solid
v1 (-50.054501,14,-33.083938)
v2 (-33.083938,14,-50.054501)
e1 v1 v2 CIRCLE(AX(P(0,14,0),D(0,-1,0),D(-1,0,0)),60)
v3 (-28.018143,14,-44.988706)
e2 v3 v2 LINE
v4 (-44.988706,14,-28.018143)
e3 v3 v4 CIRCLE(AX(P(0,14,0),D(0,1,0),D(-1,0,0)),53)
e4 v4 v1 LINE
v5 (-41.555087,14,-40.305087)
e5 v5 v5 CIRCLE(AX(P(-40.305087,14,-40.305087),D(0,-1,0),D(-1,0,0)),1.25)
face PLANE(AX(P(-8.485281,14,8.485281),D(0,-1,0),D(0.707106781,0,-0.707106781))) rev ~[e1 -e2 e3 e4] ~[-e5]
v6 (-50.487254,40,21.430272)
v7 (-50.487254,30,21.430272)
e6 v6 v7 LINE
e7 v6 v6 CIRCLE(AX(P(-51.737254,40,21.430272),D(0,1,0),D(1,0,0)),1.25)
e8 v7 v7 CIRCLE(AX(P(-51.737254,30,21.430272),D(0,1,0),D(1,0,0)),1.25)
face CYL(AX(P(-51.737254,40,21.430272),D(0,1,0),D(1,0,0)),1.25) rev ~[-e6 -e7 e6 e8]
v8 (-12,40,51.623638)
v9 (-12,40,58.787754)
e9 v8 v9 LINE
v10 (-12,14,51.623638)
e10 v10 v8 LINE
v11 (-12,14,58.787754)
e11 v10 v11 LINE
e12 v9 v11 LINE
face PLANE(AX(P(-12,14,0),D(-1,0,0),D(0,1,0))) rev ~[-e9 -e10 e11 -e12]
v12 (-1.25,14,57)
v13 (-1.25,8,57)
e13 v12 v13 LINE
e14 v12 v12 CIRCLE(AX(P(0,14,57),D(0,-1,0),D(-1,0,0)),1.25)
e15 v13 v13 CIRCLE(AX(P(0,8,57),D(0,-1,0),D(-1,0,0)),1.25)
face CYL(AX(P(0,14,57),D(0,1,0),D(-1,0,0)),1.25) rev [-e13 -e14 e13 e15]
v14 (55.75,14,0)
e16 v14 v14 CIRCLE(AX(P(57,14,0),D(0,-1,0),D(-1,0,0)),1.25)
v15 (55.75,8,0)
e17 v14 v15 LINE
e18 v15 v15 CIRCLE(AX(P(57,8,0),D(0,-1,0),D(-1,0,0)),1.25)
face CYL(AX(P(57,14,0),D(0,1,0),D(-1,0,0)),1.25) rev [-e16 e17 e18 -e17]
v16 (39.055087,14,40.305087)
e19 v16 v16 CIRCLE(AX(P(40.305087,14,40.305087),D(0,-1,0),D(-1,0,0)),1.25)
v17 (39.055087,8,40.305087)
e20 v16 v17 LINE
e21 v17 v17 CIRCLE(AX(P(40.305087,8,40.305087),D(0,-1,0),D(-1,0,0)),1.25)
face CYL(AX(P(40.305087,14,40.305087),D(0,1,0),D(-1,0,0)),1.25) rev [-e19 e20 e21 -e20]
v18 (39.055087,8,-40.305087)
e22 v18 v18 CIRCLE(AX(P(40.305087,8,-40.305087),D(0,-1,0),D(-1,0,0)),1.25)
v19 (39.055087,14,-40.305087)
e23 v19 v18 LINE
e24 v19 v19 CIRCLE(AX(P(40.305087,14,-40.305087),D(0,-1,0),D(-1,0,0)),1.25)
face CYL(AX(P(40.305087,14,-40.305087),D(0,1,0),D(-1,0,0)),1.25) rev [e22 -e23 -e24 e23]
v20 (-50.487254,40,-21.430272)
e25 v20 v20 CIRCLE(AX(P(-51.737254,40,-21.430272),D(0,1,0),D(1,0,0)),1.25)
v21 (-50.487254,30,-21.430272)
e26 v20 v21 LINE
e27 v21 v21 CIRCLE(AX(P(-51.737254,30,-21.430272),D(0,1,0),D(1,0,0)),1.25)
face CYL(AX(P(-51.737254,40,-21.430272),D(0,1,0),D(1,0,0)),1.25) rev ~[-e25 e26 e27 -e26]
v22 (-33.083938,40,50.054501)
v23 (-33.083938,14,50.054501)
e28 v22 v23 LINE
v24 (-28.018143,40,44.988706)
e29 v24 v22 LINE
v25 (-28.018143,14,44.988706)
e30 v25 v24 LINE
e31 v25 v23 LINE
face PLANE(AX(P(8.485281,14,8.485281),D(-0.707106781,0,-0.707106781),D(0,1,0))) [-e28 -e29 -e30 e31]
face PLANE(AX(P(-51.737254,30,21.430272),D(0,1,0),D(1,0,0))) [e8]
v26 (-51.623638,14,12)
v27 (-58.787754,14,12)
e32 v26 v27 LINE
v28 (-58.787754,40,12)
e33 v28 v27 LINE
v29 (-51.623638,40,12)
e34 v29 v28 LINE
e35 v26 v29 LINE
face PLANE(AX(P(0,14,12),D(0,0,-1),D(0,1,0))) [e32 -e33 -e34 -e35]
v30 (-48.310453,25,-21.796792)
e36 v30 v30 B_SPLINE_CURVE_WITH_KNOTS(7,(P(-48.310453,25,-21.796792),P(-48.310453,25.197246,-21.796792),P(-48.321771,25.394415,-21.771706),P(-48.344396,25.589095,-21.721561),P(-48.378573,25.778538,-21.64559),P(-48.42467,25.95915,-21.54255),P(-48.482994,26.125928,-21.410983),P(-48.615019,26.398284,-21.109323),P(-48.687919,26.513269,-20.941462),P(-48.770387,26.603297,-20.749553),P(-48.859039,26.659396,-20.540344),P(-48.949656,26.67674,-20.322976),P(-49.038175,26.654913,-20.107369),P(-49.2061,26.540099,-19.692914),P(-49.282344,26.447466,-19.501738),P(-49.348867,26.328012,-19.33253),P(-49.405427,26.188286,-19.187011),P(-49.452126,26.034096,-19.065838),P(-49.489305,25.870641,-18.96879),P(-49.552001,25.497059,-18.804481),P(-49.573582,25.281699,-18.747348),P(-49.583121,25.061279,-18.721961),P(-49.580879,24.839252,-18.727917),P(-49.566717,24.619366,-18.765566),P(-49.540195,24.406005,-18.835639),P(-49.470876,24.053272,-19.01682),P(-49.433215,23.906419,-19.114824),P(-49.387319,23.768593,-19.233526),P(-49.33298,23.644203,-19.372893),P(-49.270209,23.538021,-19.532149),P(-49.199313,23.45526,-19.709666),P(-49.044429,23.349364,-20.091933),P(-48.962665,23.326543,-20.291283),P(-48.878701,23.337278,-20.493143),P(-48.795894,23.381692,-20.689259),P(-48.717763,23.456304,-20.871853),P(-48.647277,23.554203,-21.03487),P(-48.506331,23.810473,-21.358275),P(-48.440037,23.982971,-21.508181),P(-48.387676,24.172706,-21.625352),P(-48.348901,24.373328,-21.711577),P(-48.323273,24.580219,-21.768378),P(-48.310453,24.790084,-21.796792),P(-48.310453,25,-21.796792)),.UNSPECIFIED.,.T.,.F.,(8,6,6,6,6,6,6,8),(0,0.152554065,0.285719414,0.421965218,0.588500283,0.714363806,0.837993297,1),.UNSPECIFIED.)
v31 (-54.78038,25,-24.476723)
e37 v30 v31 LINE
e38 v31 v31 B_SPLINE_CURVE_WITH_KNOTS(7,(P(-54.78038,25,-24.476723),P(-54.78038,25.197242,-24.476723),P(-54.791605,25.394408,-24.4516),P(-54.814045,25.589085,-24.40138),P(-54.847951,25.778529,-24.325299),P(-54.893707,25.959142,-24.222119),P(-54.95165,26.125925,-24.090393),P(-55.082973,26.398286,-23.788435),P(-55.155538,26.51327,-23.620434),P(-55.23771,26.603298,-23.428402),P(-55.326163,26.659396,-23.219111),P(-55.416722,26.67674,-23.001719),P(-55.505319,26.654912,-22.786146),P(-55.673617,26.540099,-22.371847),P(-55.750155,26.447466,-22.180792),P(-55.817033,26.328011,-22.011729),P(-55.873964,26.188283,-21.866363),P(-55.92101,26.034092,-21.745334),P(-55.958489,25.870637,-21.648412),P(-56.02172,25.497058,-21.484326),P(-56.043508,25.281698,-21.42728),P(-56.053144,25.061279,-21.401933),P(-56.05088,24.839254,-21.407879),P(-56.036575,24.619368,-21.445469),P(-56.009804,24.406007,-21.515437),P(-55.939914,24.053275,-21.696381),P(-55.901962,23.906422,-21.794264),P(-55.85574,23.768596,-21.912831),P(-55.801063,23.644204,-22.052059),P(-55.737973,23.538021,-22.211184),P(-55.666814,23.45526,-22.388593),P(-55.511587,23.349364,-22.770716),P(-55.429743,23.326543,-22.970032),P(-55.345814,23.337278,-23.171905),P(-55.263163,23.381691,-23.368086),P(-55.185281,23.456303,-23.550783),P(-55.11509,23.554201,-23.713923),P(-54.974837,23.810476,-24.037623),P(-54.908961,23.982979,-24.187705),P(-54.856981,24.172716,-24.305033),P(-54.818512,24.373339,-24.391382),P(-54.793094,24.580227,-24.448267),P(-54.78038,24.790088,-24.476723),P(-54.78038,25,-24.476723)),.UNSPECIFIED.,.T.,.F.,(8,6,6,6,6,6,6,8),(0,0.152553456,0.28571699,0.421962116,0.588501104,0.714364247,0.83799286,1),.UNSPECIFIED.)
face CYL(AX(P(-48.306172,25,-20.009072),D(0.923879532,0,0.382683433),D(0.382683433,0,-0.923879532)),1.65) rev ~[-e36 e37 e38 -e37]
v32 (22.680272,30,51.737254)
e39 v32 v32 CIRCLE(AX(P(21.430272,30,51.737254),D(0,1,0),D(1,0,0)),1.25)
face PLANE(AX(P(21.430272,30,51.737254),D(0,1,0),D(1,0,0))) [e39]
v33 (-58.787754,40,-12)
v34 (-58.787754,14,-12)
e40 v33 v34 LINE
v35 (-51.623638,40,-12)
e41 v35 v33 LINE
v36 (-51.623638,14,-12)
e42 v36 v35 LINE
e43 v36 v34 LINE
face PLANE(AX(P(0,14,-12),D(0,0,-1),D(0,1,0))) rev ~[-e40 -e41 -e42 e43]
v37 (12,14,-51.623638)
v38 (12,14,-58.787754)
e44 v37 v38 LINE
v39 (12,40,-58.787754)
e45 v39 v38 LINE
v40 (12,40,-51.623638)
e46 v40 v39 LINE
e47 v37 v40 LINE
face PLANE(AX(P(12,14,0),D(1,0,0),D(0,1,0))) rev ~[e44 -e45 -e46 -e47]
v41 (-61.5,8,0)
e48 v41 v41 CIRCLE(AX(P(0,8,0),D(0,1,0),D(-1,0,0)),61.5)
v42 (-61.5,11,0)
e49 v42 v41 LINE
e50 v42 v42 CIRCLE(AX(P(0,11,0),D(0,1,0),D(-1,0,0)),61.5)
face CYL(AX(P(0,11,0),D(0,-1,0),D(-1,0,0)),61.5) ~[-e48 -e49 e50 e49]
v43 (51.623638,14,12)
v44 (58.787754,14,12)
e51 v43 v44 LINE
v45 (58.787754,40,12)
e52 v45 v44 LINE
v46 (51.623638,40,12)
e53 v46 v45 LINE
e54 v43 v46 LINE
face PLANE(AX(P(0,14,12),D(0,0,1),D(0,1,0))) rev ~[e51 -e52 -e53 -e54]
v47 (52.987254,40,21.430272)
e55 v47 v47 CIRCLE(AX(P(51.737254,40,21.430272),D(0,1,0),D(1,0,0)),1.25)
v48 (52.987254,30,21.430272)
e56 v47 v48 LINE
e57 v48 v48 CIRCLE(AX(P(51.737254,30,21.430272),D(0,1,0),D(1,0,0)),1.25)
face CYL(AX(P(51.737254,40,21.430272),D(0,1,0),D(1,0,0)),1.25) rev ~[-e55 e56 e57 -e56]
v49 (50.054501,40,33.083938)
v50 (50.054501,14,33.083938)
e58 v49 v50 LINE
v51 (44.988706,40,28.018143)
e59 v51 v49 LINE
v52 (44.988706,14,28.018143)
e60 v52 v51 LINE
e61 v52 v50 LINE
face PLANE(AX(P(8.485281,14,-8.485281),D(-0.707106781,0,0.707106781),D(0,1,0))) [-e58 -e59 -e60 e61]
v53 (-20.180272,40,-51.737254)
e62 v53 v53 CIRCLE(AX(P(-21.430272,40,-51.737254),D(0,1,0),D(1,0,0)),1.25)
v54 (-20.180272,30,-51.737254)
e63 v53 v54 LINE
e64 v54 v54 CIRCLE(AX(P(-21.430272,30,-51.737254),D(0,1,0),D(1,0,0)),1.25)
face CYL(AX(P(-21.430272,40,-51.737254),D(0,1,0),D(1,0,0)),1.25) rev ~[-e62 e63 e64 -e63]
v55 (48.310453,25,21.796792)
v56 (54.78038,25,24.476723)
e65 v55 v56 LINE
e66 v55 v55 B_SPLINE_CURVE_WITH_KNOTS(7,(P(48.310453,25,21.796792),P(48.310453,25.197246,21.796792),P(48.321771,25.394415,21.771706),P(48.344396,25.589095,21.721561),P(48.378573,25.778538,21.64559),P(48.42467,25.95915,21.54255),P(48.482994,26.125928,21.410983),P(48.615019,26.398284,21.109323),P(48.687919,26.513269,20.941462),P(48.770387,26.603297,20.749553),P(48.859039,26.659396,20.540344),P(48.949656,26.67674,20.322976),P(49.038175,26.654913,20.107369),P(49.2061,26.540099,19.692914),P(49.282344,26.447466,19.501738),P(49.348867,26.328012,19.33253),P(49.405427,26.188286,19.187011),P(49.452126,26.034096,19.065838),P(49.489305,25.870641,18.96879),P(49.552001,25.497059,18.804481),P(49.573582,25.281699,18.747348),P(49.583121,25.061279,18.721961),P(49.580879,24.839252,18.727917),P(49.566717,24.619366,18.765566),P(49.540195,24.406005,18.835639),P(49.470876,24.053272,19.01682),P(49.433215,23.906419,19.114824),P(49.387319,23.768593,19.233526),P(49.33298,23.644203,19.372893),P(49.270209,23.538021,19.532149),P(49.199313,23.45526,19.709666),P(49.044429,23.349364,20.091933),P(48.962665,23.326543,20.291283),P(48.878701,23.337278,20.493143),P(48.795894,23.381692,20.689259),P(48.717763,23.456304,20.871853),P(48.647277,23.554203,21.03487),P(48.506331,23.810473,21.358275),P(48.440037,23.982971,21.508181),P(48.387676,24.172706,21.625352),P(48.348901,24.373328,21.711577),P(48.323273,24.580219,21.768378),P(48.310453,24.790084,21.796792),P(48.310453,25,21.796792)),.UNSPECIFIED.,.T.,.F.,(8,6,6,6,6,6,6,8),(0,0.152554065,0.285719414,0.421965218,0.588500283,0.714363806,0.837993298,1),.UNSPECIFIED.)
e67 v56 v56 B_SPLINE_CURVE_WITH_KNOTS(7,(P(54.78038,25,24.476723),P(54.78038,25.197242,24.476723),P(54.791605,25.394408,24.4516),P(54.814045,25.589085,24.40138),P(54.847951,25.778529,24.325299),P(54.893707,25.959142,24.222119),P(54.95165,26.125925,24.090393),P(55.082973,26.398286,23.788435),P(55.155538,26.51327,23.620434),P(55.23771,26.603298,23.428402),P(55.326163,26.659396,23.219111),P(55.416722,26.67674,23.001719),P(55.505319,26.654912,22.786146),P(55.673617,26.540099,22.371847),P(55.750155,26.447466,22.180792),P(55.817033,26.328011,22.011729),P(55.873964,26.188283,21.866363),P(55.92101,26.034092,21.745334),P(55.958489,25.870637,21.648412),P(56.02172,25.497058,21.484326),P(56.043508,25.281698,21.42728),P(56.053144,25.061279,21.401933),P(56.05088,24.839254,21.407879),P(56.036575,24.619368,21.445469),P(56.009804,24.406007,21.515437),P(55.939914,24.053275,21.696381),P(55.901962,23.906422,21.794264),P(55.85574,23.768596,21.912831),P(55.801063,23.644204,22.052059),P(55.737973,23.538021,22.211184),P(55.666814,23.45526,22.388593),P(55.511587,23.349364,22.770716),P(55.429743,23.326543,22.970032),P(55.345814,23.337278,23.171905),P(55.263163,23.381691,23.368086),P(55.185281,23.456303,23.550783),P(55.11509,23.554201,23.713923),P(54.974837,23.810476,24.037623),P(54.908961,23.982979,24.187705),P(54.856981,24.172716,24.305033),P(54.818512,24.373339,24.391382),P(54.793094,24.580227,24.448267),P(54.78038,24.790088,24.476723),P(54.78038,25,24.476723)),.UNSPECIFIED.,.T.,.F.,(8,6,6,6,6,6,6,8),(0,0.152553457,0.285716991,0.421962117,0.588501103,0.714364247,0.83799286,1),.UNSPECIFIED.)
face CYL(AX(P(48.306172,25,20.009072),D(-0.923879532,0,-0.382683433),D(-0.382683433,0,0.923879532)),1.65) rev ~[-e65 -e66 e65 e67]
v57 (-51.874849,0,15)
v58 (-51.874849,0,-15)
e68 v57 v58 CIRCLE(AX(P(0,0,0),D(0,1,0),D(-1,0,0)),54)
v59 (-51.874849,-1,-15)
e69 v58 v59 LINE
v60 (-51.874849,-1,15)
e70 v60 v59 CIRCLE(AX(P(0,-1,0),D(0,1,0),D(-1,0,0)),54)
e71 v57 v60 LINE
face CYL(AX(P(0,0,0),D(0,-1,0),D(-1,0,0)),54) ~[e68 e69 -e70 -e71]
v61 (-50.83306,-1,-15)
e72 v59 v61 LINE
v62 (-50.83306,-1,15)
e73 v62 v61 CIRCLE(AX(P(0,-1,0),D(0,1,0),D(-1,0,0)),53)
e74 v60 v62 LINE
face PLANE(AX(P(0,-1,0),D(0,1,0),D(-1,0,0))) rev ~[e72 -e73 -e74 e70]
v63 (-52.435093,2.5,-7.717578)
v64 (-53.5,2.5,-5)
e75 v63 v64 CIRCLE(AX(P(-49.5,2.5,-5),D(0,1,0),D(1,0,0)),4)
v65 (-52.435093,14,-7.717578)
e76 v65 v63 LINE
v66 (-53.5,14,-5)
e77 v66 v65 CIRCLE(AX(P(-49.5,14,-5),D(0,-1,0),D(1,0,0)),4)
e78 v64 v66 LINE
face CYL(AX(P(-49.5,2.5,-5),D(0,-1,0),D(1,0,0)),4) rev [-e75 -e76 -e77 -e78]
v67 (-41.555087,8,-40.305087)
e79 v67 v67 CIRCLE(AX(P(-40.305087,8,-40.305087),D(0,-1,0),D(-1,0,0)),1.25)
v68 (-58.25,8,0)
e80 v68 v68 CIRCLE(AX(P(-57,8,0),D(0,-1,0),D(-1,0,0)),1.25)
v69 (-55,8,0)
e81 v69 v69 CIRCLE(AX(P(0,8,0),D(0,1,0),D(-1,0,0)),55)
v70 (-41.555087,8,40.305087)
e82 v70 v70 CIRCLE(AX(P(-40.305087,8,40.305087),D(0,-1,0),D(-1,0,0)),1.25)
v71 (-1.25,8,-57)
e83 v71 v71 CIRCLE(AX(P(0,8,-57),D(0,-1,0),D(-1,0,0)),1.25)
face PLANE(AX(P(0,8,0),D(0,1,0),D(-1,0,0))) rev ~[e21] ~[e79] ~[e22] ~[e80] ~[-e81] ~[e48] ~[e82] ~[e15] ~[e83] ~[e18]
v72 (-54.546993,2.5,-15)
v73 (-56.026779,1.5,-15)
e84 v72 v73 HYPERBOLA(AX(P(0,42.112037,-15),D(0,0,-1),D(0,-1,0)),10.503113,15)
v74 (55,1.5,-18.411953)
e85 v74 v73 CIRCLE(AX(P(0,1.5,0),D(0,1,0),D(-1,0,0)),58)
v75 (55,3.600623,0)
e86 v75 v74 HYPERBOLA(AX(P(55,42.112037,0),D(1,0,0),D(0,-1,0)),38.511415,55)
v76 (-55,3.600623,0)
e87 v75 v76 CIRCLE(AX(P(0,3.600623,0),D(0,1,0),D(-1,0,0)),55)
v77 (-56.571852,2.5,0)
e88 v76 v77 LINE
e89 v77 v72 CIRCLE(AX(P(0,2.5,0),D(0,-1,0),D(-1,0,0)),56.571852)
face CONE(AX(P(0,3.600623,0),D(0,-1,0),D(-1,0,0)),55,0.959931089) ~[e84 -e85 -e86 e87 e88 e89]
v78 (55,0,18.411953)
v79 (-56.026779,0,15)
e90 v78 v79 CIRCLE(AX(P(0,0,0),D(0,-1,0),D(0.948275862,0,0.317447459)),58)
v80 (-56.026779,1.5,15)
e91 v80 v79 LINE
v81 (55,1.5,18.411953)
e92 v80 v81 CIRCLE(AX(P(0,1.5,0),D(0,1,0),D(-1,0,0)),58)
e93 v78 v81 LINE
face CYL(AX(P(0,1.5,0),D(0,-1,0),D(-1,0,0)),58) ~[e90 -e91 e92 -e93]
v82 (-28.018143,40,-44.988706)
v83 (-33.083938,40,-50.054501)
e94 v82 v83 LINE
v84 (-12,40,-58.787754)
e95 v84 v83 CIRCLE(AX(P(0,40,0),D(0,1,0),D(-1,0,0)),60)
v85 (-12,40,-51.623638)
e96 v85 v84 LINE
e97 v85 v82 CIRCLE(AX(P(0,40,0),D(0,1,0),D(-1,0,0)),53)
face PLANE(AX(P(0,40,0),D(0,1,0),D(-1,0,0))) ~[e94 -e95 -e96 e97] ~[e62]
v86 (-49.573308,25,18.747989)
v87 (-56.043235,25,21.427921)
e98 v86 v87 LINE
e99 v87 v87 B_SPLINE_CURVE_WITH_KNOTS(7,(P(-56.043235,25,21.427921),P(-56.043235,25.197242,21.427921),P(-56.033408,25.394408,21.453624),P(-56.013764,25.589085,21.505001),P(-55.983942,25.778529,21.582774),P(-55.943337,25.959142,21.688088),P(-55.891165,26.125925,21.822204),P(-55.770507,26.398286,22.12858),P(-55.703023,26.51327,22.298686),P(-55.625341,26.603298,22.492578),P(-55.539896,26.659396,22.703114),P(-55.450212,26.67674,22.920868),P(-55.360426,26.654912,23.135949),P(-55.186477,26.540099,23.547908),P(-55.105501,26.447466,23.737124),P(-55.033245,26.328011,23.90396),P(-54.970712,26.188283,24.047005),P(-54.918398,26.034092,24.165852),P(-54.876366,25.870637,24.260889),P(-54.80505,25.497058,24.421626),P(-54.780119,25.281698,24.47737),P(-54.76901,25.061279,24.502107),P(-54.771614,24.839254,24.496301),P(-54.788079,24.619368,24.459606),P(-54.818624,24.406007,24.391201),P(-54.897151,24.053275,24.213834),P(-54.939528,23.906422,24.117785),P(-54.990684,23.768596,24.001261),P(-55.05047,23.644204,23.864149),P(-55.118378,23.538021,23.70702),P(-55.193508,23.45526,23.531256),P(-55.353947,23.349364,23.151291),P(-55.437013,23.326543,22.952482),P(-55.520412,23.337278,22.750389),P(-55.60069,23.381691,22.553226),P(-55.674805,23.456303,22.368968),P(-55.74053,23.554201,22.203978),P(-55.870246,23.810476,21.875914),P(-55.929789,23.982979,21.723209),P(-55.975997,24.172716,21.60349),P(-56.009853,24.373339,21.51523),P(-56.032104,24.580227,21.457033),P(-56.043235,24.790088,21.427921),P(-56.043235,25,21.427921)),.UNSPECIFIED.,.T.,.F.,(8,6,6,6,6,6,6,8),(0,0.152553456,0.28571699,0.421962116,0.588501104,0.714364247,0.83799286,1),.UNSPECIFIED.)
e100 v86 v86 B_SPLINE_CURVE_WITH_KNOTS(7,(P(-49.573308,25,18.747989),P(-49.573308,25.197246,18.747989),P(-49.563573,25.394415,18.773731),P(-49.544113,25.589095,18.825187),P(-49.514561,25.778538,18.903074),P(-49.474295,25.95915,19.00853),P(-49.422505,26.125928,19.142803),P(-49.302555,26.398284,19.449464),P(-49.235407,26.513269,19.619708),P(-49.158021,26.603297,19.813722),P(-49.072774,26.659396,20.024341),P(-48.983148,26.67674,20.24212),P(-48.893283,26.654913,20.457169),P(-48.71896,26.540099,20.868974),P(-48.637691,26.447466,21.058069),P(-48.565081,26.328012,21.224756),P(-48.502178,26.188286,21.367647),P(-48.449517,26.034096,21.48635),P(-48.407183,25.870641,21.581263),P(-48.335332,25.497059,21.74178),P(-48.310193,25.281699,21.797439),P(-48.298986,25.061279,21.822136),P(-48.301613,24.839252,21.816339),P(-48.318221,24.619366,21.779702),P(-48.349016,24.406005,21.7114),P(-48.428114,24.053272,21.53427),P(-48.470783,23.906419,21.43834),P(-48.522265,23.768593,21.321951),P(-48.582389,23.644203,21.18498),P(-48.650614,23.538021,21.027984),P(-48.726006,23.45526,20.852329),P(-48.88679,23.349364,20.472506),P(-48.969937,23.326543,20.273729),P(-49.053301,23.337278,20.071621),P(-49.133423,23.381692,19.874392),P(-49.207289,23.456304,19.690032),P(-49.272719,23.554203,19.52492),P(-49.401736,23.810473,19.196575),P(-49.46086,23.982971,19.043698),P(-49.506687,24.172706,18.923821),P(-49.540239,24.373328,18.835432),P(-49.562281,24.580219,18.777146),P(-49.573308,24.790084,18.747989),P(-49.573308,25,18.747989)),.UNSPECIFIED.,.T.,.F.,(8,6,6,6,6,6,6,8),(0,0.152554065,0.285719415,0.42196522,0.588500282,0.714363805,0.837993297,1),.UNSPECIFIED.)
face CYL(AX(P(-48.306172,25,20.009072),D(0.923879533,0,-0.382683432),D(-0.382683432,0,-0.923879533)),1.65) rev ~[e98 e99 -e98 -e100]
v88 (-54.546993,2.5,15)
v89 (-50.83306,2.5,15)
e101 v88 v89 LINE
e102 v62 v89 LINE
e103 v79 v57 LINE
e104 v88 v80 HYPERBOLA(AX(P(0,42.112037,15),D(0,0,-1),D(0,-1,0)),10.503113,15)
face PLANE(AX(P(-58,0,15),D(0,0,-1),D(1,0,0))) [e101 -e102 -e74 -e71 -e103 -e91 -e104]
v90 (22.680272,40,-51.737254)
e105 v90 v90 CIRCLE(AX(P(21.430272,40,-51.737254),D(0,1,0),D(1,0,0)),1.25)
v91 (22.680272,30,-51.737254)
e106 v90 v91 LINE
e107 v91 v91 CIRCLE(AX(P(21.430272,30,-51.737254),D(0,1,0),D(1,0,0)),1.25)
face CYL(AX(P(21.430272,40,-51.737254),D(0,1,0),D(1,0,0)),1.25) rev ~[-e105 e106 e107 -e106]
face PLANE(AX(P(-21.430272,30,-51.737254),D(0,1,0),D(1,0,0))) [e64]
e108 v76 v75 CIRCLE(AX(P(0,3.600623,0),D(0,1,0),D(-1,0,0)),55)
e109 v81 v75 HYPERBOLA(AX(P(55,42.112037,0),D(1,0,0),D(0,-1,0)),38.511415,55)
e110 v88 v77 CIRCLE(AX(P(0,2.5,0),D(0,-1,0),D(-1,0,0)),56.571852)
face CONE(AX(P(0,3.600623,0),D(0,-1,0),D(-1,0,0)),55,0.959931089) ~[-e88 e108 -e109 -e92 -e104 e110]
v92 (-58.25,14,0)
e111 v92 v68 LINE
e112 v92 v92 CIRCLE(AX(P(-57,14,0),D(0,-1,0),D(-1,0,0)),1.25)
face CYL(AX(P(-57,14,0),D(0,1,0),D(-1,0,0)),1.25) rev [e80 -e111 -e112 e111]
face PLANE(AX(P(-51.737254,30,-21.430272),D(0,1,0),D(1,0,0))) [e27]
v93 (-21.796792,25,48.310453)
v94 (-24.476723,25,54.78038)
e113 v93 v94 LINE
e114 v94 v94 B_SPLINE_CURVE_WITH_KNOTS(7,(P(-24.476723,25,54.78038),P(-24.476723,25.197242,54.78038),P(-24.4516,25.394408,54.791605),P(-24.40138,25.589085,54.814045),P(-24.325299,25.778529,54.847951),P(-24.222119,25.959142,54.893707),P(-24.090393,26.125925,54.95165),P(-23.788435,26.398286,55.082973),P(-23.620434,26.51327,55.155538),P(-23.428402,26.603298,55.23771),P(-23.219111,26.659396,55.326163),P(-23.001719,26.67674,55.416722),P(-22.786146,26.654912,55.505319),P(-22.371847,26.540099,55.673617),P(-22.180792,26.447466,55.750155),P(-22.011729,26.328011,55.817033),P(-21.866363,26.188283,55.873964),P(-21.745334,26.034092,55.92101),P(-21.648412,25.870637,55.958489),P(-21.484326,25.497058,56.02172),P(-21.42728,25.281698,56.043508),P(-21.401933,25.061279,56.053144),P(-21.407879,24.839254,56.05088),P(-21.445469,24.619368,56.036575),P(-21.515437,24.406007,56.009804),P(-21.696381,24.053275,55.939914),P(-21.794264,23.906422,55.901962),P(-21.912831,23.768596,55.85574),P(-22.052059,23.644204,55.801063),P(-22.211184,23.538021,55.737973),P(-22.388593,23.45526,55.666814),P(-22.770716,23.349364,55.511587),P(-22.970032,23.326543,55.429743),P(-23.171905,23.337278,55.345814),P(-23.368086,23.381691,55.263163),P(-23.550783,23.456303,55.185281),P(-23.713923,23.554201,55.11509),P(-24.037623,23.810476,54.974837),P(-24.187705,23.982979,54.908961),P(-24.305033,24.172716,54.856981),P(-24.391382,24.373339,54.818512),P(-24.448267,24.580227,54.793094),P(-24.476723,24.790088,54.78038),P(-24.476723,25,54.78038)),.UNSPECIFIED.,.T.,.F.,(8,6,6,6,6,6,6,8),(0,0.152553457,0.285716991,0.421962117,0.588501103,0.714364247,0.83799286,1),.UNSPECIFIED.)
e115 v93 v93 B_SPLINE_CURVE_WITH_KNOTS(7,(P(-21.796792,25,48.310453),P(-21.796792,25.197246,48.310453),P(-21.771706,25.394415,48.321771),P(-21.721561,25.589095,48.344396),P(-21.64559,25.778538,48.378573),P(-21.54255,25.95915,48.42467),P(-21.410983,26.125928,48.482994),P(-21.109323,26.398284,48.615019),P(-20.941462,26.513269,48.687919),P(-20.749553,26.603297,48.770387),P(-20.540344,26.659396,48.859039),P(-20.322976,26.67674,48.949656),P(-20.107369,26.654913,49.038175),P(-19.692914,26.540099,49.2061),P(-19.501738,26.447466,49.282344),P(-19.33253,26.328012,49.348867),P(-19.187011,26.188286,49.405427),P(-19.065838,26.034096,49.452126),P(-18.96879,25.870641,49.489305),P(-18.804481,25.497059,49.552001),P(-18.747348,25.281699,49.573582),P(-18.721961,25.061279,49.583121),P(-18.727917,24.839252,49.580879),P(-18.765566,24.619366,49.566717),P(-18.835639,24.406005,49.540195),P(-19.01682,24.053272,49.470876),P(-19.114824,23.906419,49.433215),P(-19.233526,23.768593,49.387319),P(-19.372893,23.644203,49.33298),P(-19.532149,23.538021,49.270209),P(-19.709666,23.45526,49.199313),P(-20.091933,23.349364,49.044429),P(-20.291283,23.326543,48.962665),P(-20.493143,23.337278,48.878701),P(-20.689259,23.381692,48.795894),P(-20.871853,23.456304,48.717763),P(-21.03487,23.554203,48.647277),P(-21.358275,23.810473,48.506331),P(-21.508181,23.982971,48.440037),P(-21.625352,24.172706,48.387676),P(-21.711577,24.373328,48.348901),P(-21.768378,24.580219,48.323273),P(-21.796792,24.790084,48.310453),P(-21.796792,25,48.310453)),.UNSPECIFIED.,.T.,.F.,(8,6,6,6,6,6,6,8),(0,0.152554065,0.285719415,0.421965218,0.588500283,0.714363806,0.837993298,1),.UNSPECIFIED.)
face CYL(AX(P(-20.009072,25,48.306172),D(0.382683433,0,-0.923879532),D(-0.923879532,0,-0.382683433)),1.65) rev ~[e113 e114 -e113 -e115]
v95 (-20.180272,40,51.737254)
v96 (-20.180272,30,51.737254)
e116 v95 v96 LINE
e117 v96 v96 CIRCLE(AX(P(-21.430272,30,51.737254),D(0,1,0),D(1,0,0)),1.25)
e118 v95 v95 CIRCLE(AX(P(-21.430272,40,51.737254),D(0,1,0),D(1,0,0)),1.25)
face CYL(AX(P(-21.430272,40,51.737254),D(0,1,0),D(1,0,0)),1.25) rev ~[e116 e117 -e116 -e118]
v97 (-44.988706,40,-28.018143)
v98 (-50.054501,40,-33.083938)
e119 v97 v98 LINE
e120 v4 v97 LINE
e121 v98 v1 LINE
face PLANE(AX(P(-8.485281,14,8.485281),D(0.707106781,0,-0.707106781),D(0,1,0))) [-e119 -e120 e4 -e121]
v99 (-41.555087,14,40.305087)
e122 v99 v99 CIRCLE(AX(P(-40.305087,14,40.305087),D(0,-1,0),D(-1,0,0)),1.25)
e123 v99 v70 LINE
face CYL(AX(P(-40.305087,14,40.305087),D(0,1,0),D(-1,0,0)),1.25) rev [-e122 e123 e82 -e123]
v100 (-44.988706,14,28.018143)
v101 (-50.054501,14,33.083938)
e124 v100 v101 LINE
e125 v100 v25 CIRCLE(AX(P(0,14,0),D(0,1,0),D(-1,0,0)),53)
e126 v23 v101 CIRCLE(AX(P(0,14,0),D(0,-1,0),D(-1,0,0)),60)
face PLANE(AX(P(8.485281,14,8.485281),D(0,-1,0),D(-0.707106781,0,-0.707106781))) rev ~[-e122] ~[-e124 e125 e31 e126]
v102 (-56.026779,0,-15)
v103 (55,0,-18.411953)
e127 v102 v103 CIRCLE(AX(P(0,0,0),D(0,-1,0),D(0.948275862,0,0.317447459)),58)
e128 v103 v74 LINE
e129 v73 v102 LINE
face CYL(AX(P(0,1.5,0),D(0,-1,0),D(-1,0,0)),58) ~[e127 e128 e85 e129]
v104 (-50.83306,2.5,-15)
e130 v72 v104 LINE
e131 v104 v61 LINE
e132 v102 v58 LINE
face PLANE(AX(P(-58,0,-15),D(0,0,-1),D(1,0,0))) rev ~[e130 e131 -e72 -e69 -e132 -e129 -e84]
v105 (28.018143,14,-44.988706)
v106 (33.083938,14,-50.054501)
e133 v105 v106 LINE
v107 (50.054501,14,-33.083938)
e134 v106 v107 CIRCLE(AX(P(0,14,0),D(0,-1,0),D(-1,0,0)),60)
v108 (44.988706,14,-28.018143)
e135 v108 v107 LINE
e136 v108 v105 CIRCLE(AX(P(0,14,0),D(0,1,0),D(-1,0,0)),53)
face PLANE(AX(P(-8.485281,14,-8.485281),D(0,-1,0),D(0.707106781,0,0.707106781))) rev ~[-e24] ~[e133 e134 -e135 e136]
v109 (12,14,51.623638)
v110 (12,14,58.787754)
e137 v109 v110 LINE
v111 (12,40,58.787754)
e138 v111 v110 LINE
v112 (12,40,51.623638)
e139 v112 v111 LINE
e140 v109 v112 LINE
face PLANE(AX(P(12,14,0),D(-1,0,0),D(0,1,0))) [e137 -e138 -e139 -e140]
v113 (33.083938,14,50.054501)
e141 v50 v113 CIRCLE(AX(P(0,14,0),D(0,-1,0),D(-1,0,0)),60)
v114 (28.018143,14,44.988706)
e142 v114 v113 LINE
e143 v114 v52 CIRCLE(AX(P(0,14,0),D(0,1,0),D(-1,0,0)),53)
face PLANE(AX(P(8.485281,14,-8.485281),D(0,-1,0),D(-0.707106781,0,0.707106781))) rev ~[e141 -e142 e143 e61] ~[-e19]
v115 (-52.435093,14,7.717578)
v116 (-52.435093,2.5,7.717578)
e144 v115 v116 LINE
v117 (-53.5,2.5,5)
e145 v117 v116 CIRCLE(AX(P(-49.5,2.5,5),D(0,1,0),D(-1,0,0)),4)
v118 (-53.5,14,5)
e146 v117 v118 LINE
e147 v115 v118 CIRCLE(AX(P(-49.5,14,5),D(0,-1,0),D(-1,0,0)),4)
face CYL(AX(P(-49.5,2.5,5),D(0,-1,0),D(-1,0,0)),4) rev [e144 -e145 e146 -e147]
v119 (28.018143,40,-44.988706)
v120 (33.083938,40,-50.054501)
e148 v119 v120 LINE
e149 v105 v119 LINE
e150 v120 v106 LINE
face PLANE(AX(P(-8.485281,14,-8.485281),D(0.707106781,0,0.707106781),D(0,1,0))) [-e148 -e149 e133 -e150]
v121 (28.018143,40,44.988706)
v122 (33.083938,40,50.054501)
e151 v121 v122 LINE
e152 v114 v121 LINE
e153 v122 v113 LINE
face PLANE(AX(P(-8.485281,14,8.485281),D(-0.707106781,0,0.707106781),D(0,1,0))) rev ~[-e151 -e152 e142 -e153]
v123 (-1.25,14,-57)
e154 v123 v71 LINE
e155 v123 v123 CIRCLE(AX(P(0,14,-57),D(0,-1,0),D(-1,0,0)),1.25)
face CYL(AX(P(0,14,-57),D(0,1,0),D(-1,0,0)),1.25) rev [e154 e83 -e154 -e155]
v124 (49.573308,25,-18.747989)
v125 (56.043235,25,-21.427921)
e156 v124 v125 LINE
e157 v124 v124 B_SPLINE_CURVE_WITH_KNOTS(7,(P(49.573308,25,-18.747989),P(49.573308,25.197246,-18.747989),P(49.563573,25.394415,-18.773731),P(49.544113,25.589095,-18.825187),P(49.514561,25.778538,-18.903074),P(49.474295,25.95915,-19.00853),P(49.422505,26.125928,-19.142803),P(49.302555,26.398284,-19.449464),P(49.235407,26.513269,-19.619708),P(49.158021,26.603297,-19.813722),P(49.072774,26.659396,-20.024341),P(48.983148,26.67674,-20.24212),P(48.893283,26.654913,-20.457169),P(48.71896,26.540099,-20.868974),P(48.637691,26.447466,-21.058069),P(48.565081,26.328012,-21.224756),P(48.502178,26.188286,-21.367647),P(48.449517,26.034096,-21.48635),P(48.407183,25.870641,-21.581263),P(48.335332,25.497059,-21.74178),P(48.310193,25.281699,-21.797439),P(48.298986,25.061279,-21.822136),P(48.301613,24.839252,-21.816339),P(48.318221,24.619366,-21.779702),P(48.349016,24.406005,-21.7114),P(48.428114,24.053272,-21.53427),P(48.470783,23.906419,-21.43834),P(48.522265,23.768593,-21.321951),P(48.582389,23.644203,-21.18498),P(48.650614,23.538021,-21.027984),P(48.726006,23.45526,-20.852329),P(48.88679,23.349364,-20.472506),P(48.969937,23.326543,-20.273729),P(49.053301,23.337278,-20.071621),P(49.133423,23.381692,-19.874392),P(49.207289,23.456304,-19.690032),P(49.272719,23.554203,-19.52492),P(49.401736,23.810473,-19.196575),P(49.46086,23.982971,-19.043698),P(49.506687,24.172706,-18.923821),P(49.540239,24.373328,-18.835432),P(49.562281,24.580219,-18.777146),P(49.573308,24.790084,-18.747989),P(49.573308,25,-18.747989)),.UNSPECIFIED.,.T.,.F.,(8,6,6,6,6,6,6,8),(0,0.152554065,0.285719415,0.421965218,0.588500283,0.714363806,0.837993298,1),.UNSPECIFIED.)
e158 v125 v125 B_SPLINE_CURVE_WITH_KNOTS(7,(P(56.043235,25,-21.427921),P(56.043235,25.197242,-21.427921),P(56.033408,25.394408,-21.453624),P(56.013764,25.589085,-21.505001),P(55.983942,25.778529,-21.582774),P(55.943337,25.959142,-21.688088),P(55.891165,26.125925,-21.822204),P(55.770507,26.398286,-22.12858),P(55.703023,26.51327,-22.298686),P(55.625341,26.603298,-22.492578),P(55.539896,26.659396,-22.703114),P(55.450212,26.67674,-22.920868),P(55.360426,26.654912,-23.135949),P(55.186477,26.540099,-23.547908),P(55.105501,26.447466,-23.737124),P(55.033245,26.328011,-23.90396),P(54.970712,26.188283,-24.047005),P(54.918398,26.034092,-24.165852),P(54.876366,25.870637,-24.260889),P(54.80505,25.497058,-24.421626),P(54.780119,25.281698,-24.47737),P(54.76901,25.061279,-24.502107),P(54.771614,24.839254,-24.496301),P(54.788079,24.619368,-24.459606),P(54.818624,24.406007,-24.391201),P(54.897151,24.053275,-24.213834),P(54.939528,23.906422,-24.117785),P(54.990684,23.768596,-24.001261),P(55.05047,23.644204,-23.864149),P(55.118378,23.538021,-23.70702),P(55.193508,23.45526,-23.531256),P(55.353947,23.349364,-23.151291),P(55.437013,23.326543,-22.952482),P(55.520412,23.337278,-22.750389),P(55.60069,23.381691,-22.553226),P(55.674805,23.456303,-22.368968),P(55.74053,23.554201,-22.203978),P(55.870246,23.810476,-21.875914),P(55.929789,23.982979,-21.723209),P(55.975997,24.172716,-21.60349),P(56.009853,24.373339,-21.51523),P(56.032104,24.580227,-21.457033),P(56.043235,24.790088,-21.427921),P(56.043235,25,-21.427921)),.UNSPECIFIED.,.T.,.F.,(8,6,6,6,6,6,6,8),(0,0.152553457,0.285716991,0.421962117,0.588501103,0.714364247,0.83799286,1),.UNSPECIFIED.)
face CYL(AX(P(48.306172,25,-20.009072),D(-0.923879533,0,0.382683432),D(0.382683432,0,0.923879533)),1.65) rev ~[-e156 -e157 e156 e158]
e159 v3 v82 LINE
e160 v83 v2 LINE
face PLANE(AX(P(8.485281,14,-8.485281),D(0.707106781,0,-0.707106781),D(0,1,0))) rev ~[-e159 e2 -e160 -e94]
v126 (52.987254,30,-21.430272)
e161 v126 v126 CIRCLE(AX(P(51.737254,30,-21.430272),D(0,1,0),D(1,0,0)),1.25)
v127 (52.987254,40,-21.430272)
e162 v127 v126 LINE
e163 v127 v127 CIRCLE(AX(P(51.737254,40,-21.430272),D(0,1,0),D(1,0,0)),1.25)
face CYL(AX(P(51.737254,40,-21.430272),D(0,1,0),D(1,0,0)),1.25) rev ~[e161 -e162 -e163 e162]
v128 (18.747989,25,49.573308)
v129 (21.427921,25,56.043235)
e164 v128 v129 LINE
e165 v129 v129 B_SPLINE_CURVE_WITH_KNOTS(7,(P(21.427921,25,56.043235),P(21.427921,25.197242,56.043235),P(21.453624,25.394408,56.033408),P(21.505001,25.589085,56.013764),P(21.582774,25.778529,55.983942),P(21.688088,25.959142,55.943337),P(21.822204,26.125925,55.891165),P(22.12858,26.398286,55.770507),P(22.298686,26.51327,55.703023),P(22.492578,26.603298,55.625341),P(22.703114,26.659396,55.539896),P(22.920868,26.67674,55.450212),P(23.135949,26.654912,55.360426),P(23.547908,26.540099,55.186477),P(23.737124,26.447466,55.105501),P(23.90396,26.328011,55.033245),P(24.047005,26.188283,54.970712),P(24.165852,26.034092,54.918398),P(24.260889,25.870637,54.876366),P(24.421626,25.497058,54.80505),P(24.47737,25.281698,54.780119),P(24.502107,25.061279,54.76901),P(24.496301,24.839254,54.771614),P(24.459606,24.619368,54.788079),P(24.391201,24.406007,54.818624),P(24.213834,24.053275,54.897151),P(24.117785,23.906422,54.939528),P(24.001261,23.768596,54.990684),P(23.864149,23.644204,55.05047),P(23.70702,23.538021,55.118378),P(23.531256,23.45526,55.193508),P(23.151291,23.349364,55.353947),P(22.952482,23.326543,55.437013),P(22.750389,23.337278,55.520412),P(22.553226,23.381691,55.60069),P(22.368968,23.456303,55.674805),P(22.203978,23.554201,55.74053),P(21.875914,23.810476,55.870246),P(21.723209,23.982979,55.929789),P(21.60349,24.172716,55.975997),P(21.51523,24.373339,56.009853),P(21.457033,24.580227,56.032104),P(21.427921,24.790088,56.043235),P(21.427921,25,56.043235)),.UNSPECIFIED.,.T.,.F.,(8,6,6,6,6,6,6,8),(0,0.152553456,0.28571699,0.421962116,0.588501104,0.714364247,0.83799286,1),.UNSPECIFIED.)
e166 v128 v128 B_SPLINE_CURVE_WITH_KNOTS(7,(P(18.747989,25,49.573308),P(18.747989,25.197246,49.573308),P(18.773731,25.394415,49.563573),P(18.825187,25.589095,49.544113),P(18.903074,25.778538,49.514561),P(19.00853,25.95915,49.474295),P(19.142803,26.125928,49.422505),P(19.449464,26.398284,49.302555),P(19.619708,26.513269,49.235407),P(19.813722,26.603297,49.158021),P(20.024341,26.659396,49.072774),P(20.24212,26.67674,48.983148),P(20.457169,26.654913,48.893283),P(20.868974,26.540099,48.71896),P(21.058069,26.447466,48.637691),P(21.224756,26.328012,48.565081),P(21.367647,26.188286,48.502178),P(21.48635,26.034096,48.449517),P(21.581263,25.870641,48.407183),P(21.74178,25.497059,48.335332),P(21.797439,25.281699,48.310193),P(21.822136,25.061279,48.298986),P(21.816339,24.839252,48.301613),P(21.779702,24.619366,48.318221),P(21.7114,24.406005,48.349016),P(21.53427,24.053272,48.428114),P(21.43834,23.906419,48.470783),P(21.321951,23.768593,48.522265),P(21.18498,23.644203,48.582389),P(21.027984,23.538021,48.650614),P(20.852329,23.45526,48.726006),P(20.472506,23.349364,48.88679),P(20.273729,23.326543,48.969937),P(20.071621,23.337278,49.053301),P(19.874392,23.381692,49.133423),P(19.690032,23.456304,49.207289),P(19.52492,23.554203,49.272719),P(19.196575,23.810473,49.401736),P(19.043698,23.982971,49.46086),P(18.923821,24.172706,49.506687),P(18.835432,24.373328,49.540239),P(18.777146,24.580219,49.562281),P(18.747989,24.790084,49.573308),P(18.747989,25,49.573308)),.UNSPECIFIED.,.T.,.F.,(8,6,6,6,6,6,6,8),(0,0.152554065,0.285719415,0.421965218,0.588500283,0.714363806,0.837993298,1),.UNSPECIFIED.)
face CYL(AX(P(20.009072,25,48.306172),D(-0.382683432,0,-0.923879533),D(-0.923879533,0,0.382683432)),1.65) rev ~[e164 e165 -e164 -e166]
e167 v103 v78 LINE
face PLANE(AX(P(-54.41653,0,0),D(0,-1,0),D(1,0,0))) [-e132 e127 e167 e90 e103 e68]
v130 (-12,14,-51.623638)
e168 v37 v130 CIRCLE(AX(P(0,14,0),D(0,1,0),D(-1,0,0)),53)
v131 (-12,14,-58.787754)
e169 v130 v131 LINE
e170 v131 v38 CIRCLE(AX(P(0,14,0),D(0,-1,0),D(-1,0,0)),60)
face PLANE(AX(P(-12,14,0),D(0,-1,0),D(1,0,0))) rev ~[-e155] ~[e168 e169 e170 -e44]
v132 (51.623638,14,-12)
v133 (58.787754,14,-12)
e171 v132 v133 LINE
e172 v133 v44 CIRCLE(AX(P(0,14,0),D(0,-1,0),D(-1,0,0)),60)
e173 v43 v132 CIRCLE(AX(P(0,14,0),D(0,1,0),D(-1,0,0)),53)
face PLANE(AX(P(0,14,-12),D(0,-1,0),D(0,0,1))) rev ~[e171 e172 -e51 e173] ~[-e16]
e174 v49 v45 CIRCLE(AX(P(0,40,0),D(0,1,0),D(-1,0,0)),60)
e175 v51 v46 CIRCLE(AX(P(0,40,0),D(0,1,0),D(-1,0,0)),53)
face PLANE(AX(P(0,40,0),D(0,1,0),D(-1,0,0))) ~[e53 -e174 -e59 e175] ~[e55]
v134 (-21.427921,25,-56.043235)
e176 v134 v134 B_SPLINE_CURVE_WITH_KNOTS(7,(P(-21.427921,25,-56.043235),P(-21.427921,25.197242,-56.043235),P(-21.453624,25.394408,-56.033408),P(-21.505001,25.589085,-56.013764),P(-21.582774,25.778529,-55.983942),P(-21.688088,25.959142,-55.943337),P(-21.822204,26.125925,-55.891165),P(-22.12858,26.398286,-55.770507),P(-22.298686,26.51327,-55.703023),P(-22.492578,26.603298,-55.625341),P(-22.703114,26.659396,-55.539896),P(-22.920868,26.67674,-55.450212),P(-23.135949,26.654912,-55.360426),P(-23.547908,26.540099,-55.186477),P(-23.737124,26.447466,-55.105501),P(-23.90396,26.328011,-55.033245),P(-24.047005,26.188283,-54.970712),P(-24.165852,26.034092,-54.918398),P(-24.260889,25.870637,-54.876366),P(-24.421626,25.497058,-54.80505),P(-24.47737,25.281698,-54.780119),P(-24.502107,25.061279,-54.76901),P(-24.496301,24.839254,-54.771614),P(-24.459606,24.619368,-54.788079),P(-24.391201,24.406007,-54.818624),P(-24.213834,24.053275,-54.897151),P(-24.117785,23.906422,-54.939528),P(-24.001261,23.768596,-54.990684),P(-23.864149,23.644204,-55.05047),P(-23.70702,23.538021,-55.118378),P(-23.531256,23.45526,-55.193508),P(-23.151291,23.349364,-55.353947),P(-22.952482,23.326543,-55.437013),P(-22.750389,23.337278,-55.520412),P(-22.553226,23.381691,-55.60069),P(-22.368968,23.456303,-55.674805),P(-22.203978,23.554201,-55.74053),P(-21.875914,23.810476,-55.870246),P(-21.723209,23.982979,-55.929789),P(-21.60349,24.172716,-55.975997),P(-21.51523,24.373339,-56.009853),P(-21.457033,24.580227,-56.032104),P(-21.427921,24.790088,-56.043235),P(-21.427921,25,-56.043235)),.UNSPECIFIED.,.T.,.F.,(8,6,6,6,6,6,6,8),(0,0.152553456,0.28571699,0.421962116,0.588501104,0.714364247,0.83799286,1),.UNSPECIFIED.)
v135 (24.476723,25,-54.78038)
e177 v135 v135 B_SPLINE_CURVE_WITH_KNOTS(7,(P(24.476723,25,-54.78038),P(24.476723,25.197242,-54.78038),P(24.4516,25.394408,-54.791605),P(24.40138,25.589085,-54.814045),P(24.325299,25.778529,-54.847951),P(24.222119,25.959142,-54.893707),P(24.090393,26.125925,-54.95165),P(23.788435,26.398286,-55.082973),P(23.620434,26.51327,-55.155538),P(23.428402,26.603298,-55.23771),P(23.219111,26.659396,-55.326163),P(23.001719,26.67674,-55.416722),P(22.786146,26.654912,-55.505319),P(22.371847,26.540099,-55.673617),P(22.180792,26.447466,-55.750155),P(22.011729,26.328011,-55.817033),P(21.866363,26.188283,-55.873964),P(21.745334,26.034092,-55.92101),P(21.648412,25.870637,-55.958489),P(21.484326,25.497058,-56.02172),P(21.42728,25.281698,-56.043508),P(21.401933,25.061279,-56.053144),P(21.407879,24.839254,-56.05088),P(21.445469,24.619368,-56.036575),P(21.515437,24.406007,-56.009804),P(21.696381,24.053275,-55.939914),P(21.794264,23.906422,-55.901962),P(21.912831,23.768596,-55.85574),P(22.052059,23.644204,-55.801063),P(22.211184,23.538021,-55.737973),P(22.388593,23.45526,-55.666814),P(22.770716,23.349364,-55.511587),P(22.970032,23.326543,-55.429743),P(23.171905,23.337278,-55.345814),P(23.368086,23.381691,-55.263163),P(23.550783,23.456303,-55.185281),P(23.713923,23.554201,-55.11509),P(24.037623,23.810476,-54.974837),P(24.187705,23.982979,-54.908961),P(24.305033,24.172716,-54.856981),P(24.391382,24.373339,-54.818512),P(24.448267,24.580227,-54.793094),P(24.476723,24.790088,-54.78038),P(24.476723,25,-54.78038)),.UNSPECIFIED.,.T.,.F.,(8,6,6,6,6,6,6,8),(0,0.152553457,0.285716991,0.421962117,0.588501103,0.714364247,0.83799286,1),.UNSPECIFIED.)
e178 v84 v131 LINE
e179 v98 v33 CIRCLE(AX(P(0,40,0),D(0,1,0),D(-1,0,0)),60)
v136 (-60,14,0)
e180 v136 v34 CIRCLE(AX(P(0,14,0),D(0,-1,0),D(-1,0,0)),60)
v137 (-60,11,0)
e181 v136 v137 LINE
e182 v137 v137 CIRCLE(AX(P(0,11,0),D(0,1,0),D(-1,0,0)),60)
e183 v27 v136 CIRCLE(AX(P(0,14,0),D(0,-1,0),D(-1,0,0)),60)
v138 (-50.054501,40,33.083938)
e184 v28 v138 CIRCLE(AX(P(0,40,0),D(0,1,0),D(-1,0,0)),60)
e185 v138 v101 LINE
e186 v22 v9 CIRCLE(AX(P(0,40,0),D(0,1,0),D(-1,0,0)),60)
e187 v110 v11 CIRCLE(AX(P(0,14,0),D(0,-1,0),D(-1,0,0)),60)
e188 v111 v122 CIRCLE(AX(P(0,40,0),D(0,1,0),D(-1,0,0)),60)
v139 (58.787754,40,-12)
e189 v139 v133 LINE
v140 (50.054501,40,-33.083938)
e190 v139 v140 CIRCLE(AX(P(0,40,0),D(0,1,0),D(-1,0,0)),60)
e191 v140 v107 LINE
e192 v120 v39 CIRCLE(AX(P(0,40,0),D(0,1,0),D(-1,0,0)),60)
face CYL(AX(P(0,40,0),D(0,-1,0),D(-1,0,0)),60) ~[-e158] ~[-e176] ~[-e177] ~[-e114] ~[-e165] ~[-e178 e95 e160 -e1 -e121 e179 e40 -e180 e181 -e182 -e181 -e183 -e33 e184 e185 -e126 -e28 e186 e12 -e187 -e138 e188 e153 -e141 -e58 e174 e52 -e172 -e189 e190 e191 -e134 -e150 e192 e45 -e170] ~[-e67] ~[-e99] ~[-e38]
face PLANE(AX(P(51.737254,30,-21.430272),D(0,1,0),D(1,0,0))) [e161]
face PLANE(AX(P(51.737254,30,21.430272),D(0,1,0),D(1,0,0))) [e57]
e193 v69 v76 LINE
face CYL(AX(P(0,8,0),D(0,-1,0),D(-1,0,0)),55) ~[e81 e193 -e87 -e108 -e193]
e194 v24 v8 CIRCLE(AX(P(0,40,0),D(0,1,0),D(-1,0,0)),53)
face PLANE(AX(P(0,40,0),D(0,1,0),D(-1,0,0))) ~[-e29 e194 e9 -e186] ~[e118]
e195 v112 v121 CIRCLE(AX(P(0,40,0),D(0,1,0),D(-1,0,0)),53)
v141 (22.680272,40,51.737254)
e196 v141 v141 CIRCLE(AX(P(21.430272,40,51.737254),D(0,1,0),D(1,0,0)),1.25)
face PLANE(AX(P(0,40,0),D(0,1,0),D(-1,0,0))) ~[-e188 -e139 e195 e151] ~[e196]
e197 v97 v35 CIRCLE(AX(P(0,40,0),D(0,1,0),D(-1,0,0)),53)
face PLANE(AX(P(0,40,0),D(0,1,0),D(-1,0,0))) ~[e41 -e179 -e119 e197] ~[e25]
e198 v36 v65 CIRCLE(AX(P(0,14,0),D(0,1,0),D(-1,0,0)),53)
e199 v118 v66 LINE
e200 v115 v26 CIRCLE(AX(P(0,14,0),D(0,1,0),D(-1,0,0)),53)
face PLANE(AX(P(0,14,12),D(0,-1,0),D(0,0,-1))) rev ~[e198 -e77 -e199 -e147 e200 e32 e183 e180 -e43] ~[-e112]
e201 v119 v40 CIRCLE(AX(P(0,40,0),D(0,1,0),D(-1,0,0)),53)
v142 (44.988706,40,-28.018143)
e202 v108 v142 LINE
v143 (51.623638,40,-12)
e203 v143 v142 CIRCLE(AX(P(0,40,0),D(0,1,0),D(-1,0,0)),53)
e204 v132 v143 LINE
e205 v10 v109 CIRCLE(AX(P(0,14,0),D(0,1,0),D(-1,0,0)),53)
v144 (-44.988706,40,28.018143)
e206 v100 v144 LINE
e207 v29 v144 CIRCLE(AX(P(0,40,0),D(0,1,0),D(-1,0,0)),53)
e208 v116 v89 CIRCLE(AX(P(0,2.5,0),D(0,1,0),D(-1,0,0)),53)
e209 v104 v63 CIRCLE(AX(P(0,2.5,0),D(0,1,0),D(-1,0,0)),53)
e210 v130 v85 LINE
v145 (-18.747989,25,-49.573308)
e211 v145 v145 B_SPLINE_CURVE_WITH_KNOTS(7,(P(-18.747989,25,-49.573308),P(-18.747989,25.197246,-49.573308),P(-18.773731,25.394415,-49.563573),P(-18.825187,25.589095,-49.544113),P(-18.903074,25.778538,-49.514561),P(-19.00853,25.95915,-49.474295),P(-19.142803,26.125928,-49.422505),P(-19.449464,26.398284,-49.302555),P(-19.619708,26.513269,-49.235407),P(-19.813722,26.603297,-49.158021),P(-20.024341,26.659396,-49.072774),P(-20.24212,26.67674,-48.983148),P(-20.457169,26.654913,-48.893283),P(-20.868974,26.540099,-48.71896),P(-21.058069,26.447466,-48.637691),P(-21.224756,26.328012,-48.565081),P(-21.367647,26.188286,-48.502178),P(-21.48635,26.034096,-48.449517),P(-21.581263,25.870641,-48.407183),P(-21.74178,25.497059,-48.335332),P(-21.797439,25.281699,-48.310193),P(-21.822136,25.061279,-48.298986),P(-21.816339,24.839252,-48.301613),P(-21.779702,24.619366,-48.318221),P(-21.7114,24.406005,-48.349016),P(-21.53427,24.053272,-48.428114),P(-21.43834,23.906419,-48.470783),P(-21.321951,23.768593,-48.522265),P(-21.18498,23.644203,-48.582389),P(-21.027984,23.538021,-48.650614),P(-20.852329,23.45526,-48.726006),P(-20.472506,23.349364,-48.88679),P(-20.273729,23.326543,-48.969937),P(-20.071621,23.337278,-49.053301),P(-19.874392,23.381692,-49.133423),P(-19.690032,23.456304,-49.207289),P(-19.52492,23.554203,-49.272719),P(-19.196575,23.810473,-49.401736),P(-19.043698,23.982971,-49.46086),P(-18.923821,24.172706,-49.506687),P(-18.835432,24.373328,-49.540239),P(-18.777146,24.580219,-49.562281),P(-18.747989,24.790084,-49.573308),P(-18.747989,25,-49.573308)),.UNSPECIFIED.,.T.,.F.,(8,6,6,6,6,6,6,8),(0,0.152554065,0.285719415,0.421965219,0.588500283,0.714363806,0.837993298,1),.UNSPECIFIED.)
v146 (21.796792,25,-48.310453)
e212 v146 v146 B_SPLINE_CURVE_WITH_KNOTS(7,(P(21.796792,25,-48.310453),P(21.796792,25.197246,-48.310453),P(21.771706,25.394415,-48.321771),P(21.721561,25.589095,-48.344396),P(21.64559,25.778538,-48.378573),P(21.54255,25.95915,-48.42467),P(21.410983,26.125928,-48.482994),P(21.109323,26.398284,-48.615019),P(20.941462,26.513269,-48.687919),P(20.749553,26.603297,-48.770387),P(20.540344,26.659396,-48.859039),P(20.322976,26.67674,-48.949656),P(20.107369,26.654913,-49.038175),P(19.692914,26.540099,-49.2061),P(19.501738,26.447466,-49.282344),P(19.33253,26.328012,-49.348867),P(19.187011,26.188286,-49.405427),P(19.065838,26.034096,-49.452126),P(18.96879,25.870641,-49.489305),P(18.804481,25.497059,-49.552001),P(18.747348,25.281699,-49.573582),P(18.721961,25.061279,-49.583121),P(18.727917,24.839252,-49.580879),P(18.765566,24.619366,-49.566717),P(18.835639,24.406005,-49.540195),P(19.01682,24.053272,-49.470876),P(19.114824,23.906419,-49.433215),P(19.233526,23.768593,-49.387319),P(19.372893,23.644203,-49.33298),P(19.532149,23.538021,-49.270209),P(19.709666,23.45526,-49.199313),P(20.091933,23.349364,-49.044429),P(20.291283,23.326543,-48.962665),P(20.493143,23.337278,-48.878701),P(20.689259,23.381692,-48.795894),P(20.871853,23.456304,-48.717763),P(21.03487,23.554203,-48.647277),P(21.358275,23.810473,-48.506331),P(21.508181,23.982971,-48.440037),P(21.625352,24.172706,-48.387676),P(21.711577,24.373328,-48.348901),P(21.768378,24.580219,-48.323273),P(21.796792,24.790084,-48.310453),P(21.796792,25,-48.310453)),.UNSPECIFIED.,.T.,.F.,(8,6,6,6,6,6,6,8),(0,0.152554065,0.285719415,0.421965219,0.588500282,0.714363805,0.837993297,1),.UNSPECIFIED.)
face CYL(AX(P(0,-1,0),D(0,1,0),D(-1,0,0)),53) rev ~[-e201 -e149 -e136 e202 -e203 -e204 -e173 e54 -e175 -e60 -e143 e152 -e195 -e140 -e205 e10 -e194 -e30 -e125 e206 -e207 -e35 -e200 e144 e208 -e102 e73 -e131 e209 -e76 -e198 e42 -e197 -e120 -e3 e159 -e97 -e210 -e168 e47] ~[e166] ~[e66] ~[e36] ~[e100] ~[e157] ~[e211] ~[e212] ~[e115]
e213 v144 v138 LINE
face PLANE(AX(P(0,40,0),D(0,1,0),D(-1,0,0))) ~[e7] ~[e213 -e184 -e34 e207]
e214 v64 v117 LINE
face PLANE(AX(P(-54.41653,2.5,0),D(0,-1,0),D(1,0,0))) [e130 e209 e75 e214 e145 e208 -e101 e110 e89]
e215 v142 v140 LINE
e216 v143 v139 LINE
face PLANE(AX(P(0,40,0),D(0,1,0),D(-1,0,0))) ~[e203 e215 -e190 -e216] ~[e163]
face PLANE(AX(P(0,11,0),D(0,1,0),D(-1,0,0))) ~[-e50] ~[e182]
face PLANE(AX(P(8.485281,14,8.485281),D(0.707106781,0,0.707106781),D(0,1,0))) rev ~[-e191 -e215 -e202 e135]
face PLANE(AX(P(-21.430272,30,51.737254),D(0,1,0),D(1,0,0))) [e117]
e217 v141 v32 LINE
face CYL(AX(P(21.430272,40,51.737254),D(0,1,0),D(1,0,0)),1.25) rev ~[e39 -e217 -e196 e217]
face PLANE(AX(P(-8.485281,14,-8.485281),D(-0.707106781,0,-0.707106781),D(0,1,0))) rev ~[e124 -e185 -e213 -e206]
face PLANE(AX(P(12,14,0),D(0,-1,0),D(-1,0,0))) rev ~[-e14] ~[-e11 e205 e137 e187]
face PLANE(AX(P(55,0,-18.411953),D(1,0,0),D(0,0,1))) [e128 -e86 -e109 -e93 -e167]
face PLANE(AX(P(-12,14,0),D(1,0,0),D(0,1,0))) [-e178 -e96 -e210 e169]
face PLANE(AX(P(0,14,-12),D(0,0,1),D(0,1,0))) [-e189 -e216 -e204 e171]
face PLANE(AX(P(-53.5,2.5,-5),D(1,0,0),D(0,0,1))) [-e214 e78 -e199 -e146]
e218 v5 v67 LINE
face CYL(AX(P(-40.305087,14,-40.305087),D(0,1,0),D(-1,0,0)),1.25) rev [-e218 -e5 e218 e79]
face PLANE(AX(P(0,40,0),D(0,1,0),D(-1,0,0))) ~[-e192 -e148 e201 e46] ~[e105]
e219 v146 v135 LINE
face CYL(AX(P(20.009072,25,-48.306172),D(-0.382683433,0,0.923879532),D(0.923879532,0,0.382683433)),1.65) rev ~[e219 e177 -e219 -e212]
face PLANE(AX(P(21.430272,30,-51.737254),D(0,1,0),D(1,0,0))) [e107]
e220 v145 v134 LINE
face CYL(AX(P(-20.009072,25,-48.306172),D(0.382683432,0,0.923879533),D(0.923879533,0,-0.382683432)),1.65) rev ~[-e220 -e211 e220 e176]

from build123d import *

# Parameters (mm, degrees)
SKIZZE2_W                            = 24
SKIZZE2_H                            = 26
SCHNITT_LINEAR_AUSTRAGEN1_DEPTH      = 62.5
KREISMUSTER1_COUNT                   = 8
SKIZZE3_R                            = 1.65
SCHNITT_LINEAR_AUSTRAGEN2_DEPTH      = 29.067398613
KREISMUSTER2_COUNT                   = 8
SKIZZE4_R                            = 1.25
SCHNITT_LINEAR_AUSTRAGEN3_DEPTH      = 6
SCHNITT_LINEAR_AUSTRAGEN3_DEPTH_BACK = 27.0000001
SCHNITT_LINEAR_AUSTRAGEN4_REACH      = 42
SKIZZE5_W                            = 3
SKIZZE5_H                            = 36.82390528
SKIZZE6_W                            = 7.166939891
SKIZZE6_H                            = 30
SCHNITT_LINEAR_AUSTRAGEN5_DEPTH      = 2.0000001
SCHNITT_LINEAR_AUSTRAGEN5_DEPTH_BACK = 2.5
SKIZZE12_R                           = 1.25
SCHNITT_LINEAR_AUSTRAGEN6_DEPTH      = 10
SCHNITT_LINEAR_AUSTRAGEN7_REACH      = 39.5


with BuildPart() as part:
    # Skizze1 → Rotation1 (revolve)
    with BuildSketch(Plane.XY):
        Polygon((-53, -1), (-53, 40), (-60, 40), (-60, 11), (-61.5, 11), (-61.5, 8), (-55, 8), (-55, 3.600622615), (-58, 1.5), (-58, 0), (-54, 0), (-54, -1), align=None)
    revolve(axis=Axis((0, 0, 0), (0, 1, 0)))

    # Skizze2 → Schnitt-Linear austragen1 (cut, through all)
    with BuildSketch(Plane(origin=(0, 0, 0), x_dir=(0, 0, -1), z_dir=(1, 0, 0))):
        with Locations((0, 27)):
            Rectangle(SKIZZE2_W, SKIZZE2_H)
    schnitt_linear_austragen1 = extrude(amount=-SCHNITT_LINEAR_AUSTRAGEN1_DEPTH, mode=Mode.SUBTRACT)

    # Kreismuster1: Schnitt-Linear austragen1 ×8 about axis
    kreismuster1_axis = Axis((0, 0, 0), (0, 1, 0))
    for i in range(1, KREISMUSTER1_COUNT):
        add(schnitt_linear_austragen1.rotate(kreismuster1_axis, i * 360 / KREISMUSTER1_COUNT), mode=Mode.SUBTRACT)

    # Skizze3 → Schnitt-Linear austragen2 (cut, through all)
    with BuildSketch(Plane(origin=(20.009071561, 0, 48.306171934), x_dir=(-0.923879533, 0, 0.382683432), z_dir=(-0.382683432, 0, -0.923879533))):
        with Locations((0, 25)):
            Circle(SKIZZE3_R)
    schnitt_linear_austragen2 = extrude(amount=-SCHNITT_LINEAR_AUSTRAGEN2_DEPTH, mode=Mode.SUBTRACT)

    # Kreismuster2: Schnitt-Linear austragen2 ×8 about axis
    kreismuster2_axis = Axis((0, 0, 0), (0, -1, 0))
    for i in range(1, KREISMUSTER2_COUNT):
        add(schnitt_linear_austragen2.rotate(kreismuster2_axis, i * 360 / KREISMUSTER2_COUNT), mode=Mode.SUBTRACT)

    # Skizze4 → Schnitt-Linear austragen3 (cut, two sides)
    with BuildSketch(Plane(origin=(0, 14, 0), x_dir=(-1, 0, 0), z_dir=(0, -1, 0))) as schnitt_linear_austragen3_sk:
        with Locations((0, 57)):
            Circle(SKIZZE4_R)
        with Locations((40.305086528, 40.305086528)):
            Circle(SKIZZE4_R)
        with Locations((57, 0)):
            Circle(SKIZZE4_R)
        with Locations((40.305086528, -40.305086528)):
            Circle(SKIZZE4_R)
        with Locations((0, -57)):
            Circle(SKIZZE4_R)
        with Locations((-40.305086528, -40.305086528)):
            Circle(SKIZZE4_R)
        with Locations((-57, 0)):
            Circle(SKIZZE4_R)
        with Locations((-40.305086528, 40.305086528)):
            Circle(SKIZZE4_R)
    extrude(amount=SCHNITT_LINEAR_AUSTRAGEN3_DEPTH, mode=Mode.SUBTRACT)
    extrude(schnitt_linear_austragen3_sk.sketch, amount=-SCHNITT_LINEAR_AUSTRAGEN3_DEPTH_BACK, mode=Mode.SUBTRACT)

    # Skizze5 → Schnitt-Linear austragen4 (cut, up to next)
    with BuildSketch(Plane.XZ, mode=Mode.PRIVATE) as schnitt_linear_austragen4_sk1:
        with Locations((56.5, 0)):
            Rectangle(SKIZZE5_W, SKIZZE5_H)
    schnitt_linear_austragen4_tool1 = extrude(schnitt_linear_austragen4_sk1.sketch, amount=-SCHNITT_LINEAR_AUSTRAGEN4_REACH, mode=Mode.PRIVATE) & part.part
    add(schnitt_linear_austragen4_tool1.solids().sort_by_distance((56.5, 0, 0))[0], mode=Mode.SUBTRACT)

    # Skizze6 → Schnitt-Linear austragen5 (cut, two sides)
    with BuildSketch(Plane.XZ) as schnitt_linear_austragen5_sk:
        with Locations((-54.416530055, 0)):
            Rectangle(SKIZZE6_W, SKIZZE6_H)
    extrude(amount=SCHNITT_LINEAR_AUSTRAGEN5_DEPTH, mode=Mode.SUBTRACT)
    extrude(schnitt_linear_austragen5_sk.sketch, amount=-SCHNITT_LINEAR_AUSTRAGEN5_DEPTH_BACK, mode=Mode.SUBTRACT)

    # Skizze12 → Schnitt-Linear austragen6 (cut)
    with BuildSketch(Plane(origin=(0, 40, 0), x_dir=(1, 0, 0), z_dir=(0, 1, 0))):
        with Locations((-51.737253821, -21.430272212)):
            Circle(SKIZZE12_R)
        with Locations((-51.737253821, 21.430272212)):
            Circle(SKIZZE12_R)
        with Locations((-21.430272212, 51.737253821)):
            Circle(SKIZZE12_R)
        with Locations((21.430272212, 51.737253821)):
            Circle(SKIZZE12_R)
        with Locations((51.737253821, 21.430272212)):
            Circle(SKIZZE12_R)
        with Locations((51.737253821, -21.430272212)):
            Circle(SKIZZE12_R)
        with Locations((21.430272212, -51.737253821)):
            Circle(SKIZZE12_R)
        with Locations((-21.430272212, -51.737253821)):
            Circle(SKIZZE12_R)
    extrude(amount=-SCHNITT_LINEAR_AUSTRAGEN6_DEPTH, mode=Mode.SUBTRACT)

    # Skizze13 → Schnitt-Linear austragen7 (cut, up to next)
    with BuildSketch(Plane.XZ.offset(-2.5), mode=Mode.PRIVATE) as schnitt_linear_austragen7_sk1:
        with BuildLine():
            Line((-53.5, -5), (-53.5, 5))
            ThreePointArc((-53.5, 5), (-49.5, 9), (-45.5, 5))
            Line((-45.5, 5), (-45.5, -5))
            ThreePointArc((-45.5, -5), (-49.5, -9), (-53.5, -5))
        make_face()
    schnitt_linear_austragen7_tool1 = extrude(schnitt_linear_austragen7_sk1.sketch, amount=-SCHNITT_LINEAR_AUSTRAGEN7_REACH, mode=Mode.PRIVATE) & part.part
    add(schnitt_linear_austragen7_tool1.solids().sort_by_distance((-49.5, 2.5, 0))[0], mode=Mode.SUBTRACT)


solid = part.part
